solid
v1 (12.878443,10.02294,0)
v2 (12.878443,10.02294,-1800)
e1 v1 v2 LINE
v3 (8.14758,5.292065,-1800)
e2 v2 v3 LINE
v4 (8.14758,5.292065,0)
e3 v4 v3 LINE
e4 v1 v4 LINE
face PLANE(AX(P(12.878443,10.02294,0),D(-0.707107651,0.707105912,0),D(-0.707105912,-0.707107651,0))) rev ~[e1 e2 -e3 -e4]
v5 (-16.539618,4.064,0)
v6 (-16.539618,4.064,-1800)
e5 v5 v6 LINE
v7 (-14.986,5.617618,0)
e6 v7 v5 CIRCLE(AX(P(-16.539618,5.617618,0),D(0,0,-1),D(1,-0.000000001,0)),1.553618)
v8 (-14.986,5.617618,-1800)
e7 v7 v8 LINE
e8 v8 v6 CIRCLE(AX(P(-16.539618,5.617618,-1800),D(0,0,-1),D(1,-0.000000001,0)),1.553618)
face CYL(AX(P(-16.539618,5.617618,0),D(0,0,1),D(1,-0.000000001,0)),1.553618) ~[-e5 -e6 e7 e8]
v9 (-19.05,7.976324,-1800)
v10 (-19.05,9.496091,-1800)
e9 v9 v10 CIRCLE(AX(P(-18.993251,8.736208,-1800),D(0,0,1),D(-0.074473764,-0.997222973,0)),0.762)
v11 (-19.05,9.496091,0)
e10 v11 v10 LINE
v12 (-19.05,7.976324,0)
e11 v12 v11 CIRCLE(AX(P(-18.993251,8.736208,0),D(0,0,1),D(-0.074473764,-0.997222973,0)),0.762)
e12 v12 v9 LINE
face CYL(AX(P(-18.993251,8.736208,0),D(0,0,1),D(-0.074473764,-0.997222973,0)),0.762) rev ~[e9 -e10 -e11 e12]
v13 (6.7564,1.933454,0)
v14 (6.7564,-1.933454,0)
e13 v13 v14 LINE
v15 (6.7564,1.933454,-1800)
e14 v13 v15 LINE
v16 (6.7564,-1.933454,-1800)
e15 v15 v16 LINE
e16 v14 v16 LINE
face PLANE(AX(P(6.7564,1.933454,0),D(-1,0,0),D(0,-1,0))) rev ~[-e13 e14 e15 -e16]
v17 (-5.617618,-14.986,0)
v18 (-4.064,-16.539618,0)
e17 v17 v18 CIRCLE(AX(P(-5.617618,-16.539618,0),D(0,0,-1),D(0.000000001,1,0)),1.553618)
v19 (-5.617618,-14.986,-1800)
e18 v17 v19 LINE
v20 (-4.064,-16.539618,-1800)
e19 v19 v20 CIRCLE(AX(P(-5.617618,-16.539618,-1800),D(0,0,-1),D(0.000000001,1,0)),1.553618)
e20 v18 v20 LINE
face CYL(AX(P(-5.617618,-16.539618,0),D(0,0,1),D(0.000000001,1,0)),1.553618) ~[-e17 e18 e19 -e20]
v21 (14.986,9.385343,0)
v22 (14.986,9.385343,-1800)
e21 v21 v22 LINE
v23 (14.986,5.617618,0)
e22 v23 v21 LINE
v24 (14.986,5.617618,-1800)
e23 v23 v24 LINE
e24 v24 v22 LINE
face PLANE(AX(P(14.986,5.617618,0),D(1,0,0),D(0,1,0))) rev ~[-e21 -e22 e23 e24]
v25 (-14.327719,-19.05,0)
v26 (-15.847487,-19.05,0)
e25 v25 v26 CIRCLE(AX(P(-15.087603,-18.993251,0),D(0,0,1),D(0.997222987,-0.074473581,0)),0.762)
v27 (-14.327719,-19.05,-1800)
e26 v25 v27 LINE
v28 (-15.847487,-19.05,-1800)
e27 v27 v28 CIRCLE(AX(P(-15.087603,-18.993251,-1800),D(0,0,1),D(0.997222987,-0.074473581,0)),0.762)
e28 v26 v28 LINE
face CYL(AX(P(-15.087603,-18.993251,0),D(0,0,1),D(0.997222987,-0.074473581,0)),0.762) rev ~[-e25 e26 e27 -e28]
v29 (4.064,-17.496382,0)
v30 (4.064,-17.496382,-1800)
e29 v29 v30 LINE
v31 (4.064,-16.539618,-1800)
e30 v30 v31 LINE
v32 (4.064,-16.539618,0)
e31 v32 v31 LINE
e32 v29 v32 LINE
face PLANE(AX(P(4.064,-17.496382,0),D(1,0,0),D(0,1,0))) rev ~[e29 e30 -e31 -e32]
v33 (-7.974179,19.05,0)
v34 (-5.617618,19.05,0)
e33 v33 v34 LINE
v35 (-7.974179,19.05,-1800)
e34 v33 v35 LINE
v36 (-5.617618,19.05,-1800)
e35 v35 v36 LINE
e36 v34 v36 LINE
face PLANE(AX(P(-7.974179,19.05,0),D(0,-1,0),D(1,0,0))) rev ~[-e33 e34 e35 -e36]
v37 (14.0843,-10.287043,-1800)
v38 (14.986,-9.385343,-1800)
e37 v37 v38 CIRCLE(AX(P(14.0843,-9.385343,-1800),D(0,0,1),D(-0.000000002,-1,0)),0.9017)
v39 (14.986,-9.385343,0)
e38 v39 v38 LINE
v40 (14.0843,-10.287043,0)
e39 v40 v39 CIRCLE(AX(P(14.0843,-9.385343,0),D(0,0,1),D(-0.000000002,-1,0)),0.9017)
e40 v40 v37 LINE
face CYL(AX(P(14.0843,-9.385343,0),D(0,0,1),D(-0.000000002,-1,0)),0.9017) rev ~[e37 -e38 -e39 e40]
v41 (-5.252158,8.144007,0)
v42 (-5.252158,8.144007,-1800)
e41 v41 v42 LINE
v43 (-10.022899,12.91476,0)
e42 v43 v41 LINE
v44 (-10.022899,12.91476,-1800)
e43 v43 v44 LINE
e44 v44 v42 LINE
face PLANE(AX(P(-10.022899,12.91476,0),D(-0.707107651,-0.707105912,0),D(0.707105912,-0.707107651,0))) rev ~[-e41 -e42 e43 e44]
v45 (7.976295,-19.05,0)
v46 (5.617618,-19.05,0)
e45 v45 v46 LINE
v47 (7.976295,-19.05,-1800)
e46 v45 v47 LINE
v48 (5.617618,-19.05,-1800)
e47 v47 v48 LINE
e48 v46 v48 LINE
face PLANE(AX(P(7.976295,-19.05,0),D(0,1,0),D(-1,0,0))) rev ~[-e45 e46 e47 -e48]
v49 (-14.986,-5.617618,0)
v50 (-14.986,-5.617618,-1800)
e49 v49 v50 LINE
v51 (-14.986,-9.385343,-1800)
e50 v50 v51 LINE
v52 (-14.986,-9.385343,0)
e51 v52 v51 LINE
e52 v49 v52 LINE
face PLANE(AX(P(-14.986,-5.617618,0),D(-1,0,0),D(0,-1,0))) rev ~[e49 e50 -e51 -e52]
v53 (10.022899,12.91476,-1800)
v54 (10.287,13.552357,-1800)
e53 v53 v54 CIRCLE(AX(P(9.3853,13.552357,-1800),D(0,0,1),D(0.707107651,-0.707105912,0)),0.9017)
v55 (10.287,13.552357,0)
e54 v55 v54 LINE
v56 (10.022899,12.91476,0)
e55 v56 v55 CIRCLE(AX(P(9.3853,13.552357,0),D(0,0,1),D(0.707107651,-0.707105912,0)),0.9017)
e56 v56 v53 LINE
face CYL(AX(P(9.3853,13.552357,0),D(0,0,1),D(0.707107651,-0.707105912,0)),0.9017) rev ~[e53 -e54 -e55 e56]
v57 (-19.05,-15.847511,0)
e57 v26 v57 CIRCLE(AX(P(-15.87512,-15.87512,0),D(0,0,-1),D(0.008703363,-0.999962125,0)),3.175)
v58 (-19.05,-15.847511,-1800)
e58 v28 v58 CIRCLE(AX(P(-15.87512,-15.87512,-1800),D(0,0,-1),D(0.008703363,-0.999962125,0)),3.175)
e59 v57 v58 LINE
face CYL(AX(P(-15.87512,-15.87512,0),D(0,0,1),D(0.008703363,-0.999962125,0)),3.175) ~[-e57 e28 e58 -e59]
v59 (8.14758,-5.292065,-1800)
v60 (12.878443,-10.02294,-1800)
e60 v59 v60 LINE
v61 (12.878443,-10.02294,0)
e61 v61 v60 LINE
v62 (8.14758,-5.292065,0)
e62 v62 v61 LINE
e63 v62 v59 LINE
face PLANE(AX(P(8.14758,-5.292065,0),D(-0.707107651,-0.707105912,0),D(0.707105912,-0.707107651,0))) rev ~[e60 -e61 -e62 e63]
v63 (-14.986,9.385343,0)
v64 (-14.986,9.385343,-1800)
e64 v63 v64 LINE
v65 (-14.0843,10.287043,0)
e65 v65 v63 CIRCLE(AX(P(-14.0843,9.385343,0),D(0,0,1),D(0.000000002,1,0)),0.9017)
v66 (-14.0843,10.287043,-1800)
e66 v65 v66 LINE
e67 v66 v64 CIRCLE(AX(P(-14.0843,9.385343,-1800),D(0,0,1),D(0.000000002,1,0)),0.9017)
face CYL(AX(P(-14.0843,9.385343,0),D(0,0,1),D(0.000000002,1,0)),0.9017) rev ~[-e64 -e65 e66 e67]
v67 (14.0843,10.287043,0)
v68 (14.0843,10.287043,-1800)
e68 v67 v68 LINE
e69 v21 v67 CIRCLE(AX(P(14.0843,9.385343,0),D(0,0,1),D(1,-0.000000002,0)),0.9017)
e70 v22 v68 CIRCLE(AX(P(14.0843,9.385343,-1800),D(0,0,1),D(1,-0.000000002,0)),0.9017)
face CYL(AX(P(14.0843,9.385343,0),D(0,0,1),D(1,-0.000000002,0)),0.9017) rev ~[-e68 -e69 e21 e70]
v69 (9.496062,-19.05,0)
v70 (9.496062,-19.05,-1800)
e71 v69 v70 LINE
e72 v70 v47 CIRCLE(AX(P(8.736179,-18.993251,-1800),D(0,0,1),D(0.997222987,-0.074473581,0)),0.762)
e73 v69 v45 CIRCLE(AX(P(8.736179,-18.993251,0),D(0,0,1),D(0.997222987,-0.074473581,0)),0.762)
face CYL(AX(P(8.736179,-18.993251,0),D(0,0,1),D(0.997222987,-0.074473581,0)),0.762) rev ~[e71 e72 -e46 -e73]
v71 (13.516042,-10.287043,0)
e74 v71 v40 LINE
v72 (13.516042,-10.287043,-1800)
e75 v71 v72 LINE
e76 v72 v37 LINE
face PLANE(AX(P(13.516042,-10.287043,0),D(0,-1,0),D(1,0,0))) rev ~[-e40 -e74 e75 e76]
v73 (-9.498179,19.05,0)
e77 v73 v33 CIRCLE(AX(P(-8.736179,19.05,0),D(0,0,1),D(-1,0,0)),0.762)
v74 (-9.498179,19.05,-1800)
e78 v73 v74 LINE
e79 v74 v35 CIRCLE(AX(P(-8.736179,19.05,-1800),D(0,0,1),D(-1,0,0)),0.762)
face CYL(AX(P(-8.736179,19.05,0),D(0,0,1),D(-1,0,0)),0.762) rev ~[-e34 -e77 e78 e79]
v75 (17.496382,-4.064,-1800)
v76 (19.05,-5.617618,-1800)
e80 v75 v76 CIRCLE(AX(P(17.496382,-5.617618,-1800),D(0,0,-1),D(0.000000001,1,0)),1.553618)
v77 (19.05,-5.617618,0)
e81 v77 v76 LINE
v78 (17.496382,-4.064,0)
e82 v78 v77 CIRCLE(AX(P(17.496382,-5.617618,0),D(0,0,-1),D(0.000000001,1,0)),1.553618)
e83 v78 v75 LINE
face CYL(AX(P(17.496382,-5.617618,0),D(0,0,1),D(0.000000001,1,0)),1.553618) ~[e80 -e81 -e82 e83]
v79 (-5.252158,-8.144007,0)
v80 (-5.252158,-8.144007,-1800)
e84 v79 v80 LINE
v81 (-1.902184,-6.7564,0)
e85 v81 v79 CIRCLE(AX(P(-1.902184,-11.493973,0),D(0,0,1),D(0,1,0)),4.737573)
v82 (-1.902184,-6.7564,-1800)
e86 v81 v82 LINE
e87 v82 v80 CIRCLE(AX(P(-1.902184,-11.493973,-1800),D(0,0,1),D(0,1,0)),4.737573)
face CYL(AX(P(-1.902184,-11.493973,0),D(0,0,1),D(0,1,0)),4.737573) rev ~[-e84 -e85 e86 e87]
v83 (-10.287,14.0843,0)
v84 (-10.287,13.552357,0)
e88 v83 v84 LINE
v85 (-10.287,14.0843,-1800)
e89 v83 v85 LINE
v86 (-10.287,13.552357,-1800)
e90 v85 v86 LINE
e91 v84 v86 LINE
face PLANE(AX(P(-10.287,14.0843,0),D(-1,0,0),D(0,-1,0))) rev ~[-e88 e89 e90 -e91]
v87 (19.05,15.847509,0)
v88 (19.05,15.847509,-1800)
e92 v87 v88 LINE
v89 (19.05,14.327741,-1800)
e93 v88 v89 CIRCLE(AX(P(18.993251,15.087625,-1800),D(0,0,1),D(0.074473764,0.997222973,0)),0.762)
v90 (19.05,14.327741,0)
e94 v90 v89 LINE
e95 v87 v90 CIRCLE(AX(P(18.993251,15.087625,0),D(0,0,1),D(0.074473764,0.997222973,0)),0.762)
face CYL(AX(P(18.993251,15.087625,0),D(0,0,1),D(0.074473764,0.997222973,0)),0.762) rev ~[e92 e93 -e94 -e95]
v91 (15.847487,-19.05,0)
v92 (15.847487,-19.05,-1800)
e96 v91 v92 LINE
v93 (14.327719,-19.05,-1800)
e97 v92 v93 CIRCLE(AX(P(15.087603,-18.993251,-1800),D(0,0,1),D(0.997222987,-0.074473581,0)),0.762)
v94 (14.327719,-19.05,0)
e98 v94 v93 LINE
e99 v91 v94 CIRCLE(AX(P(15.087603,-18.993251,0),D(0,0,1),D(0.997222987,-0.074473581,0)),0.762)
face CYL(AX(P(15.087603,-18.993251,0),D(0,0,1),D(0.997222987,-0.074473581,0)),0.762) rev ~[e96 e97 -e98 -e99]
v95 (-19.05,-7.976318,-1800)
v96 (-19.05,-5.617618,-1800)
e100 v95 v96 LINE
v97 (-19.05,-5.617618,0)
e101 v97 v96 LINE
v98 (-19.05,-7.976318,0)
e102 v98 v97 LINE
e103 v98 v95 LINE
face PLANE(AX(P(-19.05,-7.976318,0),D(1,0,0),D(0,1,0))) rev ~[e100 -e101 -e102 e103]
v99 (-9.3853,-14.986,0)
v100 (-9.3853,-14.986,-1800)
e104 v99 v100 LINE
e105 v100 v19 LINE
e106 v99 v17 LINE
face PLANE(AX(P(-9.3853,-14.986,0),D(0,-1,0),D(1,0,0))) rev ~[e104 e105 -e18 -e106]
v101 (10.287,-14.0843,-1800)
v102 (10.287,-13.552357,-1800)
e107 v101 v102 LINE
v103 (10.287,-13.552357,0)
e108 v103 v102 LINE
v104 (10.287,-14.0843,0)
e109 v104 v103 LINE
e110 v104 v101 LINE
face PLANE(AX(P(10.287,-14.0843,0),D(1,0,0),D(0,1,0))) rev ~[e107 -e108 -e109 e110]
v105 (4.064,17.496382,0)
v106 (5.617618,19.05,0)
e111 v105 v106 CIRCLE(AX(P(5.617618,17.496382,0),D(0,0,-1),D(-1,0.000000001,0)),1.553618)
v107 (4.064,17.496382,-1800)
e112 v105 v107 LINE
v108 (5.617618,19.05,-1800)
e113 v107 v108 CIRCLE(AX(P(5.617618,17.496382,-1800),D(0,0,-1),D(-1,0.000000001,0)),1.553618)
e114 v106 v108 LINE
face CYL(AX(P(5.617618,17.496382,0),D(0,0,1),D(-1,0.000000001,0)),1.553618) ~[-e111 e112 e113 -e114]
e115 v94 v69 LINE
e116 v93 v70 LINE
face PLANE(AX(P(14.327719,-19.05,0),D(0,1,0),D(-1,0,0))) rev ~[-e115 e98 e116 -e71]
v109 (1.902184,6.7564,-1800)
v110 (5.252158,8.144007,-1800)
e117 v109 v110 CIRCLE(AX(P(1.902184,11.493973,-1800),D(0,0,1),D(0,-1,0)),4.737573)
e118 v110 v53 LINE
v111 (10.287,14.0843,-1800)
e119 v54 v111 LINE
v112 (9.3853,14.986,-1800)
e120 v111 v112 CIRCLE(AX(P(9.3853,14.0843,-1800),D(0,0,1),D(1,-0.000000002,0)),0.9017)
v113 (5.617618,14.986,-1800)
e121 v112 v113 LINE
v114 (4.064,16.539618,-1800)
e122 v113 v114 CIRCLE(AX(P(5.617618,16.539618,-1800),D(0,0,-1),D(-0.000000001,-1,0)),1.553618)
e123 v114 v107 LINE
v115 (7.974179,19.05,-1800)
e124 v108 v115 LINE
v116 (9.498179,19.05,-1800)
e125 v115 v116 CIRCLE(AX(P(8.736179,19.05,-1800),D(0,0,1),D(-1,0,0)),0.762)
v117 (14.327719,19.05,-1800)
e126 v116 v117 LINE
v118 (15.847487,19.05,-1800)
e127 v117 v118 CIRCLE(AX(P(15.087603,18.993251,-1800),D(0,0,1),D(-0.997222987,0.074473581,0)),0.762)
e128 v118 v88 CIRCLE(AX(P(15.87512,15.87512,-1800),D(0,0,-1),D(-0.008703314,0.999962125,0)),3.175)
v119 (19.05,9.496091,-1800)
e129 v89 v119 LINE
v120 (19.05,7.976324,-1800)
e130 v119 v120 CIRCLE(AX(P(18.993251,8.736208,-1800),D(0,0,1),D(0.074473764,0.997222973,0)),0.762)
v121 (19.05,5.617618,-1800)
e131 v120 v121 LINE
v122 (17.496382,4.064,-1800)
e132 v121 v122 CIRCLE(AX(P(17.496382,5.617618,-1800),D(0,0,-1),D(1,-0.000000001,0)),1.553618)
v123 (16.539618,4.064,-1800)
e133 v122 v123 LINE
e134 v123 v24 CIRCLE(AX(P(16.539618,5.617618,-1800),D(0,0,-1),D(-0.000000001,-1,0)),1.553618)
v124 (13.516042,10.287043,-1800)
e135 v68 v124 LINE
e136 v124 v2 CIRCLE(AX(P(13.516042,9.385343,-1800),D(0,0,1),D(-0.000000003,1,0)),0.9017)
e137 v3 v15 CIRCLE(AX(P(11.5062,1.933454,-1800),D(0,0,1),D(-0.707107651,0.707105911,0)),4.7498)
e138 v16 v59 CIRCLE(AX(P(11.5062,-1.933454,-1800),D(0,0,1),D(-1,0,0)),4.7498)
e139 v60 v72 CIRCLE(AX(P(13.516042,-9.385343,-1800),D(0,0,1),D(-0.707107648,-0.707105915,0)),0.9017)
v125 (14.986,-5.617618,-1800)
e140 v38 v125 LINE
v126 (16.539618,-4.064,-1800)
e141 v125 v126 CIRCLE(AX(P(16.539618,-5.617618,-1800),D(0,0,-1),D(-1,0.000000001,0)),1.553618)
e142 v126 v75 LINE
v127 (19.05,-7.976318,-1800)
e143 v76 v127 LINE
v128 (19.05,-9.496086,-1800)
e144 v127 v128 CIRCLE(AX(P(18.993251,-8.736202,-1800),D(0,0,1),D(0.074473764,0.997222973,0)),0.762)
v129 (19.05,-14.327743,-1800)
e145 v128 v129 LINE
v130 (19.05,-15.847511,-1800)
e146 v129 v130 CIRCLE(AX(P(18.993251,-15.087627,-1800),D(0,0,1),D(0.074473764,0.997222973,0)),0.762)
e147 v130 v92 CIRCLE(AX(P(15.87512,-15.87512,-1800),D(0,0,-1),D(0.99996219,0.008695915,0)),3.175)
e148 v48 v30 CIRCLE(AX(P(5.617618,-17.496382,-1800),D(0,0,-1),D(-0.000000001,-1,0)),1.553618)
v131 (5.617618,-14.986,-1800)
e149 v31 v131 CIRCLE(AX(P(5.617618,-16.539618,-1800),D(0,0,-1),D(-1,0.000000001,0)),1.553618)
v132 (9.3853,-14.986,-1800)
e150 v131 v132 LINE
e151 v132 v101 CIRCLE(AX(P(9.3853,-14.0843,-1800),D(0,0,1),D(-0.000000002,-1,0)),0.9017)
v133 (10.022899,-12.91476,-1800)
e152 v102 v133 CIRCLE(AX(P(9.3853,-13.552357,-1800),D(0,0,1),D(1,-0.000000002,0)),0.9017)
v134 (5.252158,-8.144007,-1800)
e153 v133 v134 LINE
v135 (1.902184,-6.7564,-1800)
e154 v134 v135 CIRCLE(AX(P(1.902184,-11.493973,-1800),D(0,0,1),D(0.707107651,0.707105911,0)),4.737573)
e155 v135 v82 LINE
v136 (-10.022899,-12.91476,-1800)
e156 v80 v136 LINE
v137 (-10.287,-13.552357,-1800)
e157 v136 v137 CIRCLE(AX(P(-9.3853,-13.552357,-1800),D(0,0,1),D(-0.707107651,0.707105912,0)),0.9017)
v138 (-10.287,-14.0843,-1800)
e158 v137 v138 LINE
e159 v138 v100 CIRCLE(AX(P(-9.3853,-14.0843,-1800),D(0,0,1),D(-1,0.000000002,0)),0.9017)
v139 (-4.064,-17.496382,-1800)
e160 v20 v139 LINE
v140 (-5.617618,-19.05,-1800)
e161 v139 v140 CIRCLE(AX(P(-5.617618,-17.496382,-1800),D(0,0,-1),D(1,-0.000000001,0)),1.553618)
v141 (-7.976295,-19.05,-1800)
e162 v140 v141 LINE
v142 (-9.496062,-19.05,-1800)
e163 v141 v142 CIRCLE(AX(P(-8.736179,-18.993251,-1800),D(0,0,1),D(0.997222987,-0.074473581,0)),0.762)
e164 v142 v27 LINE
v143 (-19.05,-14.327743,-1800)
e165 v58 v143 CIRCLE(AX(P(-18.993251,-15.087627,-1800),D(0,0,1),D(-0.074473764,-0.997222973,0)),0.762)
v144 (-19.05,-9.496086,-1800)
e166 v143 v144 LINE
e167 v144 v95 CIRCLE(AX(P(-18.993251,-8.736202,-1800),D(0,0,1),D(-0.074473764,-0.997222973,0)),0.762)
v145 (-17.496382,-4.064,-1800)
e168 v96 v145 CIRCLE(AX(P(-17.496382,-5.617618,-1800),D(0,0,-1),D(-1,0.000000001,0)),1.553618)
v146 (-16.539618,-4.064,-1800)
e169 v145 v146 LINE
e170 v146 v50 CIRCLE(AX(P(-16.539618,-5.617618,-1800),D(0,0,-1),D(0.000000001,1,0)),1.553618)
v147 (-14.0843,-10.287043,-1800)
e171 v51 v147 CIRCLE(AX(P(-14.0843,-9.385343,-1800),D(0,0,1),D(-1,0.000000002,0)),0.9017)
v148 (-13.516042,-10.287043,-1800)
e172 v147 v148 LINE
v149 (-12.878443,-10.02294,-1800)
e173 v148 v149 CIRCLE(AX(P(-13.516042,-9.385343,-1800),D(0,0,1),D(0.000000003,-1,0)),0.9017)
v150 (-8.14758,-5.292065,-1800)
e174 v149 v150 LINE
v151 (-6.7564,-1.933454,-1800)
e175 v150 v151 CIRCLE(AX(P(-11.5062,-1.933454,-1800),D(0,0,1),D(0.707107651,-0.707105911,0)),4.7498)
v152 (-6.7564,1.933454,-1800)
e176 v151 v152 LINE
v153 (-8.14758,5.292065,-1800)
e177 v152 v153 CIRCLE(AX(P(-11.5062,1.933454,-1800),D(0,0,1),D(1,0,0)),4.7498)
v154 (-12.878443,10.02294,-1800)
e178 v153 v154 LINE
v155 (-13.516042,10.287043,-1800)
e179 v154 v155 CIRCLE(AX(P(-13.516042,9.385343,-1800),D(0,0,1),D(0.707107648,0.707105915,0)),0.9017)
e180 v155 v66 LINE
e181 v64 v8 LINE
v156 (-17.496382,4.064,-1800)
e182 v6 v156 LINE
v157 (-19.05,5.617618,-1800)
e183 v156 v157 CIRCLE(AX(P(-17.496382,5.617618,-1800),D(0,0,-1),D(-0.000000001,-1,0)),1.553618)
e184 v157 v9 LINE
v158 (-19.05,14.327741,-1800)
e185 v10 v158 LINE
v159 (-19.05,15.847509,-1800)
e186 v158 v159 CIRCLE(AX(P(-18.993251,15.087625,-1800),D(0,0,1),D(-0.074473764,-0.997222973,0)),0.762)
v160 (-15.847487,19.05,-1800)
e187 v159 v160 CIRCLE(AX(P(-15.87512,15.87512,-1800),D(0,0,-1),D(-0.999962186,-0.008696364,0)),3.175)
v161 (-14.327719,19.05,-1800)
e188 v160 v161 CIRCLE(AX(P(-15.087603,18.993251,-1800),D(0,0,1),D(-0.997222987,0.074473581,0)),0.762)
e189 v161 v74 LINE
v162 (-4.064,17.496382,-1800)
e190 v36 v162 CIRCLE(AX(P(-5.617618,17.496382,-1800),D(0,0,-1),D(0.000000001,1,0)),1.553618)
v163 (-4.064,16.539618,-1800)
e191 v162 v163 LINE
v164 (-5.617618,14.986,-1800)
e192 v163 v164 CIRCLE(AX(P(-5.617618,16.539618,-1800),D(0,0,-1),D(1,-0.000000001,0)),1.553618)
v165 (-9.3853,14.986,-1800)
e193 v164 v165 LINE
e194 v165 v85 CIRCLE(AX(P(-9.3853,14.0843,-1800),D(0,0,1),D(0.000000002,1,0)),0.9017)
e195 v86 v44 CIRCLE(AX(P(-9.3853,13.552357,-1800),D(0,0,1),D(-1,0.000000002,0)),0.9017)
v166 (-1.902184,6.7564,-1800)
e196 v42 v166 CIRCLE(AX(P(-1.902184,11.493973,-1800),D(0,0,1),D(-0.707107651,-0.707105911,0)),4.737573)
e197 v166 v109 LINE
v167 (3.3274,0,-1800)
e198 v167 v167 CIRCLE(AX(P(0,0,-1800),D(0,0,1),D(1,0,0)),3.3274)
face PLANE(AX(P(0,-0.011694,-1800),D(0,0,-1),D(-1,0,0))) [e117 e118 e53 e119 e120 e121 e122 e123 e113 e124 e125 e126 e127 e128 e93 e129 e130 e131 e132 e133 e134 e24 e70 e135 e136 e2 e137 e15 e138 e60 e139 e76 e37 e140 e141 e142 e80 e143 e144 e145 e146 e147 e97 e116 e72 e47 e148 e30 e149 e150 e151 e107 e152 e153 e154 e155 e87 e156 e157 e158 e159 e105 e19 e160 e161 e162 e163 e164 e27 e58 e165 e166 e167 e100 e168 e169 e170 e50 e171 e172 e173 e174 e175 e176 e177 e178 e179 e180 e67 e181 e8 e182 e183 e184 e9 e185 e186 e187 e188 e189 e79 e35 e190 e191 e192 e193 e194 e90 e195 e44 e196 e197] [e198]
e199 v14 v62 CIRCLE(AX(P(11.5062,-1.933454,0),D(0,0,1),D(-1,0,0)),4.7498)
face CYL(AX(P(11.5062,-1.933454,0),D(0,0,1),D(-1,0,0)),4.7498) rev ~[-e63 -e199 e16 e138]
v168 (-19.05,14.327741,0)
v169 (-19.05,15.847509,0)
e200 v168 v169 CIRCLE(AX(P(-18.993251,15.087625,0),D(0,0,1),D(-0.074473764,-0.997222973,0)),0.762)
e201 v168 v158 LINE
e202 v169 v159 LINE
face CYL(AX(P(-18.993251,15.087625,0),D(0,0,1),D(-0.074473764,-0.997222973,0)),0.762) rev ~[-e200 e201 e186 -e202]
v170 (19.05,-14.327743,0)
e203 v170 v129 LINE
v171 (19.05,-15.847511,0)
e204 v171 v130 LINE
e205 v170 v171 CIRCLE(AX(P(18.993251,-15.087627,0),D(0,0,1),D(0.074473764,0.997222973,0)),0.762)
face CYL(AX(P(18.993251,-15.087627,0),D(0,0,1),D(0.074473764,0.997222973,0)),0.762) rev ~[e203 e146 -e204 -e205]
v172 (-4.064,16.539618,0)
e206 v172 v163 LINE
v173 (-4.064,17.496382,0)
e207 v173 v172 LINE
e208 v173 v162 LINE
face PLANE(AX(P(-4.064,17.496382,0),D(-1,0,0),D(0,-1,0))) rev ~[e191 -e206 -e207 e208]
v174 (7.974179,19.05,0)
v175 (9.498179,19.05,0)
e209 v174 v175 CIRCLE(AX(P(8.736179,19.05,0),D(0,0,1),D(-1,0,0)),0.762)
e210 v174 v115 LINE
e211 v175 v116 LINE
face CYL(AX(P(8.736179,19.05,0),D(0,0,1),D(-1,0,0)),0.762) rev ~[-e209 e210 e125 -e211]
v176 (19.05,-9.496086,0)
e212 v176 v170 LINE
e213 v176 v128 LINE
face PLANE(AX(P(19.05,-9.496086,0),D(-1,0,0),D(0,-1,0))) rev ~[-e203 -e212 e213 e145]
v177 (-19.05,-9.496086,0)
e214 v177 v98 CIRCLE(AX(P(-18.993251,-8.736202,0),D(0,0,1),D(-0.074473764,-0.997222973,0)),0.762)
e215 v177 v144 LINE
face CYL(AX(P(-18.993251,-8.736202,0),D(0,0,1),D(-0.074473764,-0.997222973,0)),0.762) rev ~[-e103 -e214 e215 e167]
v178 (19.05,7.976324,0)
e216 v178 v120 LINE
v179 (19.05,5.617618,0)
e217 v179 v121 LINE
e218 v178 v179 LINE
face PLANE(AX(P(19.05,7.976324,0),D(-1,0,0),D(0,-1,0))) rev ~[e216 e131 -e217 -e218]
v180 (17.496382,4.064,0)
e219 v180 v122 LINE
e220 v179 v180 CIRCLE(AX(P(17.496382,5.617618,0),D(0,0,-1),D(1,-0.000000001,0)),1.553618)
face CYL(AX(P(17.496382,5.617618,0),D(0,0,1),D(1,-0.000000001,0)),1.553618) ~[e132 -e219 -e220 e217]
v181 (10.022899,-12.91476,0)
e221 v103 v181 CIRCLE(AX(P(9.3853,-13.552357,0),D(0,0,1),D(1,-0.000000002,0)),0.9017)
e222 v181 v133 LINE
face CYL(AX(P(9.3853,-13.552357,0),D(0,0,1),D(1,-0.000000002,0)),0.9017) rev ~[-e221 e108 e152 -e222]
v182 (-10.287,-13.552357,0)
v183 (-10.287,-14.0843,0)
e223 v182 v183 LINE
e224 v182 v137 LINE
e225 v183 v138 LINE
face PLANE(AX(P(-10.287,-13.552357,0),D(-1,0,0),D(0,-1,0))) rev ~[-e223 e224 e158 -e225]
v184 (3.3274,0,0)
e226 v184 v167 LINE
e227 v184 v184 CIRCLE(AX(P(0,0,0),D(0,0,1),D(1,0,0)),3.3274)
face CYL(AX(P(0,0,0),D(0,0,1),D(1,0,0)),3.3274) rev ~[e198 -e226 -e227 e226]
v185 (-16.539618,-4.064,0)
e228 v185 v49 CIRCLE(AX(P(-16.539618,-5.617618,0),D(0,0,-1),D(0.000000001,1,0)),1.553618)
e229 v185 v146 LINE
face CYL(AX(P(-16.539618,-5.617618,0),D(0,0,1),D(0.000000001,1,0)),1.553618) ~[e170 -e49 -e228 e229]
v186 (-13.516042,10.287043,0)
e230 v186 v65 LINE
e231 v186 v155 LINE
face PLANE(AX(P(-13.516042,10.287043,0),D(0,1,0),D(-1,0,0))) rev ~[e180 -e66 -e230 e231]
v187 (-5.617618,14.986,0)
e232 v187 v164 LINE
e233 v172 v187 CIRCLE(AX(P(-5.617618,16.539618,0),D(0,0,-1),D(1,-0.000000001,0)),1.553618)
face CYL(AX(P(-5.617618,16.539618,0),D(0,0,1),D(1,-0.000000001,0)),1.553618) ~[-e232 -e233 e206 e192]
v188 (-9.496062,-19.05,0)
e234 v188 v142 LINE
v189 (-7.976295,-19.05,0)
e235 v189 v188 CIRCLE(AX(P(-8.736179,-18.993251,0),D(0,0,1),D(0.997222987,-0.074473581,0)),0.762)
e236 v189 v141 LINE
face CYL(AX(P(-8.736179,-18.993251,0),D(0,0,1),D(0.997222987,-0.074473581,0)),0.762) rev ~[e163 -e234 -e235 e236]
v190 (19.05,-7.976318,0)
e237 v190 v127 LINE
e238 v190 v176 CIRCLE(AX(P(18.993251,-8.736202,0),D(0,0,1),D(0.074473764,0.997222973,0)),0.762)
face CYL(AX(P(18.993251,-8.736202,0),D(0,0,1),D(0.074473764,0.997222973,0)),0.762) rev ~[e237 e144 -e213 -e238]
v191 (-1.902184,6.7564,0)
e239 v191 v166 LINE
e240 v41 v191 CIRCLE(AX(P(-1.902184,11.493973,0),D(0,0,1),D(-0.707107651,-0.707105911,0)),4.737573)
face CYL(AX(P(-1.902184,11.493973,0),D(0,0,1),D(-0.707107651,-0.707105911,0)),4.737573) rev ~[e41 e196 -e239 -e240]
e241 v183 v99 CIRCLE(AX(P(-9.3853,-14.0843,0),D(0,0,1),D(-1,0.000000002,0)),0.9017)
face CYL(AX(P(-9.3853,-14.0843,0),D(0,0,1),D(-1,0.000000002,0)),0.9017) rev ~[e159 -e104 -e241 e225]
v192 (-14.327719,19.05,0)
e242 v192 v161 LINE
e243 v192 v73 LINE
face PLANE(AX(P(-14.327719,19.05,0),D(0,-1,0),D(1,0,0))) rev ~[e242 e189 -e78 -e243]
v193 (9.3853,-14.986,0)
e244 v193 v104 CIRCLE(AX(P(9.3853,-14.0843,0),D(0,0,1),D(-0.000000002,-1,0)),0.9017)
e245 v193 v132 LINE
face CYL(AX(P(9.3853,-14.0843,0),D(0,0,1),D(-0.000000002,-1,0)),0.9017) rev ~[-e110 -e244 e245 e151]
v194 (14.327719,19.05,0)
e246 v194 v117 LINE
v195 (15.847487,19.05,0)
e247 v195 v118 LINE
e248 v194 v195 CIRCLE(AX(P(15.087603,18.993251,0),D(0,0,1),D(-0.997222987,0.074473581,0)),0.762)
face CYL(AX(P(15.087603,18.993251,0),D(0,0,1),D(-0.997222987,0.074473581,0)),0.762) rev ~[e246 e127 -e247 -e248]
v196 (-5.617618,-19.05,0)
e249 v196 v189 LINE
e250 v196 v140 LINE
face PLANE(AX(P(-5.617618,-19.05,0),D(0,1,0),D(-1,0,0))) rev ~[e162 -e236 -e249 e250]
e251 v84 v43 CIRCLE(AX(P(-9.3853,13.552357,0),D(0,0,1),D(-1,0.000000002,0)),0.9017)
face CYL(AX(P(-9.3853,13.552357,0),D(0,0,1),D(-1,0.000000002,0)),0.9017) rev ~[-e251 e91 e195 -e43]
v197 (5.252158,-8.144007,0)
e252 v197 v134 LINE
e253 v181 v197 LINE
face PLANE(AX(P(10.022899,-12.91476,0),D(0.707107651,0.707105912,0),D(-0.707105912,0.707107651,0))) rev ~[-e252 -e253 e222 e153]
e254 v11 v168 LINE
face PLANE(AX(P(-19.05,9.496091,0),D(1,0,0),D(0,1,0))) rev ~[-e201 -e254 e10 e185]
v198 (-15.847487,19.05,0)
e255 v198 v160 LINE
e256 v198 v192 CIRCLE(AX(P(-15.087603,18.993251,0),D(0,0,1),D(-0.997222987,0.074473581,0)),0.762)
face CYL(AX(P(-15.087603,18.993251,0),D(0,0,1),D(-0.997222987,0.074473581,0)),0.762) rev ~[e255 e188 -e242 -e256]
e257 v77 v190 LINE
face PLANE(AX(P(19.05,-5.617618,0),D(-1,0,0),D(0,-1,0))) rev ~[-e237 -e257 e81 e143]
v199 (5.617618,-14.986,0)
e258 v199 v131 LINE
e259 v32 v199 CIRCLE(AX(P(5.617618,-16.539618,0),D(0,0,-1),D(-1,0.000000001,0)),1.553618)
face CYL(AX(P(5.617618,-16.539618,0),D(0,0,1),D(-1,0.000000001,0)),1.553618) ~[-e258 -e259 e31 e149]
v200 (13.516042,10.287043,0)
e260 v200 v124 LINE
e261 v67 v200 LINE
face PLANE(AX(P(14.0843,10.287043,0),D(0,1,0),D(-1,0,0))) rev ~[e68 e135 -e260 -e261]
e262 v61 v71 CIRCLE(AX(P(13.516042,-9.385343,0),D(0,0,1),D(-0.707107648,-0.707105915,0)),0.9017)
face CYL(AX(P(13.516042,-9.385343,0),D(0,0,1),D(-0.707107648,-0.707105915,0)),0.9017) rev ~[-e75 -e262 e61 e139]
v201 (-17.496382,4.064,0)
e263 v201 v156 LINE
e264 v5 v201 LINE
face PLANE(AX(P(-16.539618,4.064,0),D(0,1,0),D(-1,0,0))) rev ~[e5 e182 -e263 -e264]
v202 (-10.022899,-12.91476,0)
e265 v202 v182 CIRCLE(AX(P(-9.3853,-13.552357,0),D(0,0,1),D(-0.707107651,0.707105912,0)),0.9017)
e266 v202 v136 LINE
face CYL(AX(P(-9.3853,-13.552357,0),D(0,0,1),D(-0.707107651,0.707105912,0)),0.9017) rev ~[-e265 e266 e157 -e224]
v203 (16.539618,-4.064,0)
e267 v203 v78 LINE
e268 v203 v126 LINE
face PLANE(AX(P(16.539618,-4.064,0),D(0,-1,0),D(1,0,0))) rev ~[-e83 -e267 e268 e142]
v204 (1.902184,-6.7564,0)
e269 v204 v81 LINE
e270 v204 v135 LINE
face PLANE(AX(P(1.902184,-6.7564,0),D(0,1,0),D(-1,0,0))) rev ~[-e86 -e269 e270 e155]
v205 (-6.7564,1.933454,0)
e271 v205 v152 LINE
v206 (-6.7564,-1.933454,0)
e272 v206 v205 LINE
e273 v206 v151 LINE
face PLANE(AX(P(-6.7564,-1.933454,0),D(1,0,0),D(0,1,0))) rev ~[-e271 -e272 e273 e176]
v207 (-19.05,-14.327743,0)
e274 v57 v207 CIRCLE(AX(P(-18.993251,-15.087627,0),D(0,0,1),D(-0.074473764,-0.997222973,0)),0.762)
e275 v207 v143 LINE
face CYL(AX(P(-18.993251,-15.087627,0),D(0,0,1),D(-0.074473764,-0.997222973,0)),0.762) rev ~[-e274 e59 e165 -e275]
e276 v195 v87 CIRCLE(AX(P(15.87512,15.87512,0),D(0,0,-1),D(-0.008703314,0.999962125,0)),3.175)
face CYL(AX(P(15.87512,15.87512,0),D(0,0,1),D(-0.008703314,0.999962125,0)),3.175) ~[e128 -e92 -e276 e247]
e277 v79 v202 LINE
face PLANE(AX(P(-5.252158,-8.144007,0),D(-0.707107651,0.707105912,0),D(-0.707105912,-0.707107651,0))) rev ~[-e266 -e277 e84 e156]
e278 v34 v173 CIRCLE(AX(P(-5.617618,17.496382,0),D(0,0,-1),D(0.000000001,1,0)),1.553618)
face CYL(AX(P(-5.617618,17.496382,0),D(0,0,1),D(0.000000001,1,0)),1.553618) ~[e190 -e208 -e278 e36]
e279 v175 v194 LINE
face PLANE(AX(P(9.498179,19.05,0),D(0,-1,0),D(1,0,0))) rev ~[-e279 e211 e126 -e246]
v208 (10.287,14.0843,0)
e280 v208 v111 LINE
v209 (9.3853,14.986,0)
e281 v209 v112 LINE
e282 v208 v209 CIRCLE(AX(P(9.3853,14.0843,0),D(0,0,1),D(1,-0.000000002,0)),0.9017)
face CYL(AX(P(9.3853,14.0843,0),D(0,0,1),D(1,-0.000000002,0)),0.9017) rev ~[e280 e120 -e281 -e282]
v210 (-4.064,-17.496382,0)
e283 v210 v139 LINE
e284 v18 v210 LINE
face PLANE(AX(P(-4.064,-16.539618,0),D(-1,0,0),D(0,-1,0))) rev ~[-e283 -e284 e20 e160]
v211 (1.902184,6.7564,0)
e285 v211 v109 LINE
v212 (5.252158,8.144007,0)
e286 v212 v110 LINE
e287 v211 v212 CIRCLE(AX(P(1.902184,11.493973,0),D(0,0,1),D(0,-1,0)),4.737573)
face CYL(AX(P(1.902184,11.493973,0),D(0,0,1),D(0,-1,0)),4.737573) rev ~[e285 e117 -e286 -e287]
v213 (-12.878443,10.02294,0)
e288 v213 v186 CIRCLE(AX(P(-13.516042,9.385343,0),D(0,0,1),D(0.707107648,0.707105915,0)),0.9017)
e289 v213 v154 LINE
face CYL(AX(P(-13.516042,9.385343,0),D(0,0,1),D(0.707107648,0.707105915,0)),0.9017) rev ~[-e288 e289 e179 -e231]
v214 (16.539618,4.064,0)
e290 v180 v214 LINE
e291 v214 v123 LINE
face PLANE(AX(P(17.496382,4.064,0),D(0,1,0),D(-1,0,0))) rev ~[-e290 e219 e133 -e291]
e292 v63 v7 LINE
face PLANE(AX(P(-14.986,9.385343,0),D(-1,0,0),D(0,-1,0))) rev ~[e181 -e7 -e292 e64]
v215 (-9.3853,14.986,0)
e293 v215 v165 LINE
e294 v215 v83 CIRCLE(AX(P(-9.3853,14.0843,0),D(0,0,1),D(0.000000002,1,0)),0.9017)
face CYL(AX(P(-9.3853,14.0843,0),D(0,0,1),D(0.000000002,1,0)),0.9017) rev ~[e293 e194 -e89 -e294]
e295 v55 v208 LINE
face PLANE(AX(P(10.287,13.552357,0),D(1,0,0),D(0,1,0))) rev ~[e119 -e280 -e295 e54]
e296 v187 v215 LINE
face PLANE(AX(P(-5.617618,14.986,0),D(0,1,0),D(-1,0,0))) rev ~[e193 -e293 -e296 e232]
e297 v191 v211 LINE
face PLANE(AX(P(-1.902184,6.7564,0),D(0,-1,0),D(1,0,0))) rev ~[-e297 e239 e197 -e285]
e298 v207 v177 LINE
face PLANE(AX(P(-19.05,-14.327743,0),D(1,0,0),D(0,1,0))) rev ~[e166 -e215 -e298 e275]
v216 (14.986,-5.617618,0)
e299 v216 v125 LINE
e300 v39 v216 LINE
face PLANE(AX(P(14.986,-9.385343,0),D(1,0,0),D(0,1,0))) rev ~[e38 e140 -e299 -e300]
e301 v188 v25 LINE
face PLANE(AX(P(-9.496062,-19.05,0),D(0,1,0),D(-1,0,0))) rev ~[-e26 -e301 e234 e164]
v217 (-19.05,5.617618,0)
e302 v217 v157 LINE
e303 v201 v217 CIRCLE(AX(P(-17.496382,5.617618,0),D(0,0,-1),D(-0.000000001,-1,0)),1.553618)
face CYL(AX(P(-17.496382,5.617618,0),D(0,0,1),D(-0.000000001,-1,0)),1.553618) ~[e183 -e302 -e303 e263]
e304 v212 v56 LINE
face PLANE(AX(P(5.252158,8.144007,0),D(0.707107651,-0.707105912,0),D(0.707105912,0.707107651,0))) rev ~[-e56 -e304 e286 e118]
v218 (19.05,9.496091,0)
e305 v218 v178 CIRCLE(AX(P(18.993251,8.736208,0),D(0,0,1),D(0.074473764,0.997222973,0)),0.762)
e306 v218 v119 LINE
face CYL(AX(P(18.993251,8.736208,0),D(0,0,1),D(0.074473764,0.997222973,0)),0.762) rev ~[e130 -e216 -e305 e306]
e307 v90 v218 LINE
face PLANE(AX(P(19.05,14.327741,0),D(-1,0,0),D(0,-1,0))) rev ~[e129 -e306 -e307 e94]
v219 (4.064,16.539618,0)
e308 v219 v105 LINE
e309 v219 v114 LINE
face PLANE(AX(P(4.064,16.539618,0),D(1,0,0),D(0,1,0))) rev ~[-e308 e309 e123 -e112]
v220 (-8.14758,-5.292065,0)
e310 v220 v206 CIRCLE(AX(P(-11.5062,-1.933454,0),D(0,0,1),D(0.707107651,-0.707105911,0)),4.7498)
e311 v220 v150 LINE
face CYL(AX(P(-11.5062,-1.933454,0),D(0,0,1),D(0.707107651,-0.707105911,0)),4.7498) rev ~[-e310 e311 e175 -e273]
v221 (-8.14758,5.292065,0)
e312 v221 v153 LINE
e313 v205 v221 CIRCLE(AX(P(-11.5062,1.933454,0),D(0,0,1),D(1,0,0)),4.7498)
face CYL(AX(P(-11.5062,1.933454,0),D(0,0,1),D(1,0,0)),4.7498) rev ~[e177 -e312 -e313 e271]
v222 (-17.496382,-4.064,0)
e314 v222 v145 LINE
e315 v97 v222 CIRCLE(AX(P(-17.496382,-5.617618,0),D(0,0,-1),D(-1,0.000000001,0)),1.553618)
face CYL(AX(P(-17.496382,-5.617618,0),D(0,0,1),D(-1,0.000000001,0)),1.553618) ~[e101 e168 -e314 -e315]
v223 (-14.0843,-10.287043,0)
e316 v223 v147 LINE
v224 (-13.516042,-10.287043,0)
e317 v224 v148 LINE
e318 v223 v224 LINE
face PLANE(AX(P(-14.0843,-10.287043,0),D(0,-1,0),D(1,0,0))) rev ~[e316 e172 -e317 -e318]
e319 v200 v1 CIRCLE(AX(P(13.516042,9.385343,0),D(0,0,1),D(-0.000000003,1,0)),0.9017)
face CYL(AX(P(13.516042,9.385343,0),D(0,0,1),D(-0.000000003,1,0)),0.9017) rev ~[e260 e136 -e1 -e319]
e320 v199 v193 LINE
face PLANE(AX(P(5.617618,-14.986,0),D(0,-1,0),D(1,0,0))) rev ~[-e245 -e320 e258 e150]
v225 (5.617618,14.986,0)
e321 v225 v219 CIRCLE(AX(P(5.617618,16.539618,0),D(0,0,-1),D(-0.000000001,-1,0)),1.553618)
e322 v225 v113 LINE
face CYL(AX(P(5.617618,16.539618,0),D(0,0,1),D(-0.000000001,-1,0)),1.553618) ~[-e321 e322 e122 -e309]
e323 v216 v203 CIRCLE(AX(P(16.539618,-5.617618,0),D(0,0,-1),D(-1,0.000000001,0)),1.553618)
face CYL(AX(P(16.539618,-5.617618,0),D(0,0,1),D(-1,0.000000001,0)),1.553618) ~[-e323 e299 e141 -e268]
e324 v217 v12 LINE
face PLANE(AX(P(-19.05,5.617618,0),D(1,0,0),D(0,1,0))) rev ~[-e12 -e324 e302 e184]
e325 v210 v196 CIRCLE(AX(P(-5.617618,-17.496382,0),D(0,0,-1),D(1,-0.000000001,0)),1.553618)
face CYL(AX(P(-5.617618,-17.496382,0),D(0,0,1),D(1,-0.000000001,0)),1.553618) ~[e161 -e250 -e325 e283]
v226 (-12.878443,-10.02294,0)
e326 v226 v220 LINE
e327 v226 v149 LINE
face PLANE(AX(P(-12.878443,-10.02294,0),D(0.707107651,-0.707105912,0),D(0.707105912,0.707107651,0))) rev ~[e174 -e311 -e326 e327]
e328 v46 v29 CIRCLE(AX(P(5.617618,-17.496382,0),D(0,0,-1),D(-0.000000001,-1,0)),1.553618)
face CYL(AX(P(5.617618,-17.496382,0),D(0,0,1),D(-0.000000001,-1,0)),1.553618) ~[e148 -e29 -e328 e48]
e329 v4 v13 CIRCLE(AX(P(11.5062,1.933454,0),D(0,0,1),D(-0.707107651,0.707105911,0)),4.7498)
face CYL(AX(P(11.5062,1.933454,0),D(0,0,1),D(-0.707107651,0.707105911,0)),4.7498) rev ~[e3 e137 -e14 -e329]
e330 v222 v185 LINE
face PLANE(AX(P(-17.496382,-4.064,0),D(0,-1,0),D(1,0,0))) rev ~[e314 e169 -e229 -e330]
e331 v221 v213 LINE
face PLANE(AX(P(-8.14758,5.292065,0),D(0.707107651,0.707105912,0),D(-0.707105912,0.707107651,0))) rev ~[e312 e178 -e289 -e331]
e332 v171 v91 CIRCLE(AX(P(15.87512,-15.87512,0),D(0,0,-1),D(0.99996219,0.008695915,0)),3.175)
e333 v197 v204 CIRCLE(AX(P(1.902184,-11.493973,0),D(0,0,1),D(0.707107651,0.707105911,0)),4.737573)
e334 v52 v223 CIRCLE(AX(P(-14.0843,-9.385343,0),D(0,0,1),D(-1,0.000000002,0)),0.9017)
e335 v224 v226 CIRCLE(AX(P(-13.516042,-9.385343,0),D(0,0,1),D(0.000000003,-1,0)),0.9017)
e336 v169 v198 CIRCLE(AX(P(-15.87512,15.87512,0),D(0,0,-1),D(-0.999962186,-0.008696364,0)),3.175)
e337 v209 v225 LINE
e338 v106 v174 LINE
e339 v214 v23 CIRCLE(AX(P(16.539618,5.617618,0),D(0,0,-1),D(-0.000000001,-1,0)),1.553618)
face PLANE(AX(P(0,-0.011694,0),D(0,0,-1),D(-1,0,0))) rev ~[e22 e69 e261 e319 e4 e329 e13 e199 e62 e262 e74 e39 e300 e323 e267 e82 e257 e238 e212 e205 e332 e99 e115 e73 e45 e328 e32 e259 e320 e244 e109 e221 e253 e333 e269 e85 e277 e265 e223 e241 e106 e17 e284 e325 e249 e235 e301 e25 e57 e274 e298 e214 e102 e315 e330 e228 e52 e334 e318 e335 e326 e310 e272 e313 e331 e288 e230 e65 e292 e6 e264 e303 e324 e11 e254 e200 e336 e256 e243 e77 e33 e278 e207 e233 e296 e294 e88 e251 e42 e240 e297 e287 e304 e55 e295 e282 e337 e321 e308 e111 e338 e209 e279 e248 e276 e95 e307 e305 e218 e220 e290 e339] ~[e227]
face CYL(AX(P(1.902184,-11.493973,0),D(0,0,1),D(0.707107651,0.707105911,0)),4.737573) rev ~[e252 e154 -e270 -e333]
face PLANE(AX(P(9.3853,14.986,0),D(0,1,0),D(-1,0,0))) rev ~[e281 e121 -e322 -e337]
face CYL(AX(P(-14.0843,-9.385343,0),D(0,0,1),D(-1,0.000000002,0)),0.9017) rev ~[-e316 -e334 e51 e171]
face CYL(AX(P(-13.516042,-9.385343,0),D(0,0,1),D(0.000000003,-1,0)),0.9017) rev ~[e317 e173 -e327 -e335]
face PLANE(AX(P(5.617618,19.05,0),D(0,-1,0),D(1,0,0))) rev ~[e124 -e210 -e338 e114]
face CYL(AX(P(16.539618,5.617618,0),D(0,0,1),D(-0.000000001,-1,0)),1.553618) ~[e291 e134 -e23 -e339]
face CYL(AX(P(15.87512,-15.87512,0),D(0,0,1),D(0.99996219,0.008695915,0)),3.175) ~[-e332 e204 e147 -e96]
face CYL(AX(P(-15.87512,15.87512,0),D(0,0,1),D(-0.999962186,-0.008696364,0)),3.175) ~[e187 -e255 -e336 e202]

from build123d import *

# Parameters (mm, degrees)
SKETCH1_R      = 3.3274
EXTRUDE1_DEPTH = 1800


with BuildPart() as part:
    # Sketch1 → Extrude1 (new body)
    with BuildSketch(Plane.XY):
        with BuildLine():
            Line((-10.022898969, 12.91475973), (-5.252158105, 8.144007132))
            ThreePointArc((-5.252158105, 8.144007132), (-3.715177372, 7.117027388), (-1.902183975, 6.7564))
            Line((-1.902183975, 6.7564), (1.902183975, 6.7564))
            ThreePointArc((1.902183975, 6.7564), (3.715177372, 7.117027388), (5.252158105, 8.144007132))
            Line((5.252158105, 8.144007132), (10.022898969, 12.91475973))
            ThreePointArc((10.022898969, 12.91475973), (10.218362387, 13.207291992), (10.287, 13.552357131))
            Line((10.287, 13.552357131), (10.287, 14.0843))
            ThreePointArc((10.287, 14.0843), (10.022898185, 14.721898185), (9.3853, 14.986))
            Line((9.3853, 14.986), (5.617617549, 14.986))
            ThreePointArc((5.617617549, 14.986), (4.519044045, 15.441044045), (4.064, 16.539617549))
            Line((4.064, 16.539617549), (4.064, 17.496382451))
            ThreePointArc((4.064, 17.496382451), (4.519044045, 18.594955955), (5.617617549, 19.05))
            Line((5.617617549, 19.05), (7.974178704, 19.05))
            ThreePointArc((7.974178704, 19.05), (8.736178704, 18.288), (9.498178704, 19.05))
            Line((9.498178704, 19.05), (14.327719207, 19.05))
            ThreePointArc((14.327719207, 19.05), (15.087603123, 18.231251131), (15.847487039, 19.05))
            ThreePointArc((15.847487039, 19.05), (18.120176289, 18.120192083), (19.05, 15.847509295))
            ThreePointArc((19.05, 15.847509295), (18.231250992, 15.08762539), (19.05, 14.327741484))
            Line((19.05, 14.327741484), (19.05, 9.496091471))
            ThreePointArc((19.05, 9.496091471), (18.231250992, 8.736207565), (19.05, 7.97632366))
            Line((19.05, 7.97632366), (19.05, 5.617617549))
            ThreePointArc((19.05, 5.617617549), (18.594955955, 4.519044045), (17.496382451, 4.064))
            Line((17.496382451, 4.064), (16.539617549, 4.064))
            ThreePointArc((16.539617549, 4.064), (15.441044045, 4.519044045), (14.986, 5.617617549))
            Line((14.986, 5.617617549), (14.986, 9.385342516))
            ThreePointArc((14.986, 9.385342516), (14.721898185, 10.022940701), (14.0843, 10.287042516))
            Line((14.0843, 10.287042516), (13.516042086, 10.287042516))
            ThreePointArc((13.516042086, 10.287042516), (13.170975923, 10.218404478), (12.878443117, 10.022939917))
            Line((12.878443117, 10.022939917), (8.14758008, 5.292065243))
            ThreePointArc((8.14758008, 5.292065243), (7.117955879, 3.751120653), (6.7564, 1.933453584))
            Line((6.7564, 1.933453584), (6.7564, -1.933453584))
            ThreePointArc((6.7564, -1.933453584), (7.117955879, -3.751120653), (8.14758008, -5.292065243))
            Line((8.14758008, -5.292065243), (12.878443117, -10.022939917))
            ThreePointArc((12.878443117, -10.022939917), (13.170975923, -10.218404478), (13.516042086, -10.287042516))
            Line((13.516042086, -10.287042516), (14.0843, -10.287042516))
            ThreePointArc((14.0843, -10.287042516), (14.721898185, -10.022940701), (14.986, -9.385342516))
            Line((14.986, -9.385342516), (14.986, -5.617617549))
            ThreePointArc((14.986, -5.617617549), (15.441044045, -4.519044045), (16.539617549, -4.064))
            Line((16.539617549, -4.064), (17.496382451, -4.064))
            ThreePointArc((17.496382451, -4.064), (18.594955955, -4.519044045), (19.05, -5.617617549))
            Line((19.05, -5.617617549), (19.05, -7.976318491))
            ThreePointArc((19.05, -7.976318491), (18.231250992, -8.736202396), (19.05, -9.496086302))
            Line((19.05, -9.496086302), (19.05, -14.32774291))
            ThreePointArc((19.05, -14.32774291), (18.231250992, -15.087626816), (19.05, -15.847510721))
            ThreePointArc((19.05, -15.847510721), (18.120175716, -18.120192644), (15.847486868, -19.05))
            ThreePointArc((15.847486868, -19.05), (15.087602952, -18.231251131), (14.327719036, -19.05))
            Line((14.327719036, -19.05), (9.496062448, -19.05))
            ThreePointArc((9.496062448, -19.05), (8.736178532, -18.231251131), (7.976294616, -19.05))
            Line((7.976294616, -19.05), (5.617617549, -19.05))
            ThreePointArc((5.617617549, -19.05), (4.519044045, -18.594955955), (4.064, -17.496382451))
            Line((4.064, -17.496382451), (4.064, -16.539617549))
            ThreePointArc((4.064, -16.539617549), (4.519044045, -15.441044045), (5.617617549, -14.986))
            Line((5.617617549, -14.986), (9.3853, -14.986))
            ThreePointArc((9.3853, -14.986), (10.022898185, -14.721898185), (10.287, -14.0843))
            Line((10.287, -14.0843), (10.287, -13.552357131))
            ThreePointArc((10.287, -13.552357131), (10.218362387, -13.207291992), (10.022898969, -12.91475973))
            Line((10.022898969, -12.91475973), (5.252158105, -8.144007132))
            ThreePointArc((5.252158105, -8.144007132), (3.715177372, -7.117027388), (1.902183975, -6.7564))
            Line((1.902183975, -6.7564), (-1.902183975, -6.7564))
            ThreePointArc((-1.902183975, -6.7564), (-3.715177372, -7.117027388), (-5.252158105, -8.144007132))
            Line((-5.252158105, -8.144007132), (-10.022898969, -12.91475973))
            ThreePointArc((-10.022898969, -12.91475973), (-10.218362387, -13.207291992), (-10.287, -13.552357131))
            Line((-10.287, -13.552357131), (-10.287, -14.0843))
            ThreePointArc((-10.287, -14.0843), (-10.022898185, -14.721898185), (-9.3853, -14.986))
            Line((-9.3853, -14.986), (-5.617617549, -14.986))
            ThreePointArc((-5.617617549, -14.986), (-4.519044045, -15.441044045), (-4.064, -16.539617549))
            Line((-4.064, -16.539617549), (-4.064, -17.496382451))
            ThreePointArc((-4.064, -17.496382451), (-4.519044045, -18.594955955), (-5.617617549, -19.05))
            Line((-5.617617549, -19.05), (-7.976294616, -19.05))
            ThreePointArc((-7.976294616, -19.05), (-8.736178532, -18.231251131), (-9.496062448, -19.05))
            Line((-9.496062448, -19.05), (-14.327719036, -19.05))
            ThreePointArc((-14.327719036, -19.05), (-15.087602952, -18.231251131), (-15.847486868, -19.05))
            ThreePointArc((-15.847486868, -19.05), (-18.120175716, -18.120192644), (-19.05, -15.847510721))
            ThreePointArc((-19.05, -15.847510721), (-18.231250992, -15.087626816), (-19.05, -14.32774291))
            Line((-19.05, -14.32774291), (-19.05, -9.496086302))
            ThreePointArc((-19.05, -9.496086302), (-18.231250992, -8.736202396), (-19.05, -7.976318491))
            Line((-19.05, -7.976318491), (-19.05, -5.617617549))
            ThreePointArc((-19.05, -5.617617549), (-18.594955955, -4.519044045), (-17.496382451, -4.064))
            Line((-17.496382451, -4.064), (-16.539617549, -4.064))
            ThreePointArc((-16.539617549, -4.064), (-15.441044045, -4.519044045), (-14.986, -5.617617549))
            Line((-14.986, -5.617617549), (-14.986, -9.385342516))
            ThreePointArc((-14.986, -9.385342516), (-14.721898185, -10.022940701), (-14.0843, -10.287042516))
            Line((-14.0843, -10.287042516), (-13.516042086, -10.287042516))
            ThreePointArc((-13.516042086, -10.287042516), (-13.170975923, -10.218404478), (-12.878443117, -10.022939917))
            Line((-12.878443117, -10.022939917), (-8.14758008, -5.292065243))
            ThreePointArc((-8.14758008, -5.292065243), (-7.117955879, -3.751120653), (-6.7564, -1.933453584))
            Line((-6.7564, -1.933453584), (-6.7564, 1.933453584))
            ThreePointArc((-6.7564, 1.933453584), (-7.117955879, 3.751120653), (-8.14758008, 5.292065243))
            Line((-8.14758008, 5.292065243), (-12.878443117, 10.022939917))
            ThreePointArc((-12.878443117, 10.022939917), (-13.170975923, 10.218404478), (-13.516042086, 10.287042516))
            Line((-13.516042086, 10.287042516), (-14.0843, 10.287042516))
            ThreePointArc((-14.0843, 10.287042516), (-14.721898185, 10.022940701), (-14.986, 9.385342516))
            Line((-14.986, 9.385342516), (-14.986, 5.617617549))
            ThreePointArc((-14.986, 5.617617549), (-15.441044045, 4.519044045), (-16.539617549, 4.064))
            Line((-16.539617549, 4.064), (-17.496382451, 4.064))
            ThreePointArc((-17.496382451, 4.064), (-18.594955955, 4.519044045), (-19.05, 5.617617549))
            Line((-19.05, 5.617617549), (-19.05, 7.97632366))
            ThreePointArc((-19.05, 7.97632366), (-18.231250992, 8.736207565), (-19.05, 9.496091471))
            Line((-19.05, 9.496091471), (-19.05, 14.327741484))
            ThreePointArc((-19.05, 14.327741484), (-18.231250992, 15.08762539), (-19.05, 15.847509295))
            ThreePointArc((-19.05, 15.847509295), (-18.120176289, 18.120192083), (-15.847487039, 19.05))
            ThreePointArc((-15.847487039, 19.05), (-15.087603123, 18.231251131), (-14.327719207, 19.05))
            Line((-14.327719207, 19.05), (-9.498178704, 19.05))
            ThreePointArc((-9.498178704, 19.05), (-8.736178704, 18.288), (-7.974178704, 19.05))
            Line((-7.974178704, 19.05), (-5.617617549, 19.05))
            ThreePointArc((-5.617617549, 19.05), (-4.519044045, 18.594955955), (-4.064, 17.496382451))
            Line((-4.064, 17.496382451), (-4.064, 16.539617549))
            ThreePointArc((-4.064, 16.539617549), (-4.519044045, 15.441044045), (-5.617617549, 14.986))
            Line((-5.617617549, 14.986), (-9.3853, 14.986))
            ThreePointArc((-9.3853, 14.986), (-10.022898185, 14.721898185), (-10.287, 14.0843))
            Line((-10.287, 14.0843), (-10.287, 13.552357131))
            ThreePointArc((-10.287, 13.552357131), (-10.218362387, 13.207291992), (-10.022898969, 12.91475973))
        make_face()
        Circle(SKETCH1_R, mode=Mode.SUBTRACT)
    extrude(amount=-EXTRUDE1_DEPTH)


solid = part.part
